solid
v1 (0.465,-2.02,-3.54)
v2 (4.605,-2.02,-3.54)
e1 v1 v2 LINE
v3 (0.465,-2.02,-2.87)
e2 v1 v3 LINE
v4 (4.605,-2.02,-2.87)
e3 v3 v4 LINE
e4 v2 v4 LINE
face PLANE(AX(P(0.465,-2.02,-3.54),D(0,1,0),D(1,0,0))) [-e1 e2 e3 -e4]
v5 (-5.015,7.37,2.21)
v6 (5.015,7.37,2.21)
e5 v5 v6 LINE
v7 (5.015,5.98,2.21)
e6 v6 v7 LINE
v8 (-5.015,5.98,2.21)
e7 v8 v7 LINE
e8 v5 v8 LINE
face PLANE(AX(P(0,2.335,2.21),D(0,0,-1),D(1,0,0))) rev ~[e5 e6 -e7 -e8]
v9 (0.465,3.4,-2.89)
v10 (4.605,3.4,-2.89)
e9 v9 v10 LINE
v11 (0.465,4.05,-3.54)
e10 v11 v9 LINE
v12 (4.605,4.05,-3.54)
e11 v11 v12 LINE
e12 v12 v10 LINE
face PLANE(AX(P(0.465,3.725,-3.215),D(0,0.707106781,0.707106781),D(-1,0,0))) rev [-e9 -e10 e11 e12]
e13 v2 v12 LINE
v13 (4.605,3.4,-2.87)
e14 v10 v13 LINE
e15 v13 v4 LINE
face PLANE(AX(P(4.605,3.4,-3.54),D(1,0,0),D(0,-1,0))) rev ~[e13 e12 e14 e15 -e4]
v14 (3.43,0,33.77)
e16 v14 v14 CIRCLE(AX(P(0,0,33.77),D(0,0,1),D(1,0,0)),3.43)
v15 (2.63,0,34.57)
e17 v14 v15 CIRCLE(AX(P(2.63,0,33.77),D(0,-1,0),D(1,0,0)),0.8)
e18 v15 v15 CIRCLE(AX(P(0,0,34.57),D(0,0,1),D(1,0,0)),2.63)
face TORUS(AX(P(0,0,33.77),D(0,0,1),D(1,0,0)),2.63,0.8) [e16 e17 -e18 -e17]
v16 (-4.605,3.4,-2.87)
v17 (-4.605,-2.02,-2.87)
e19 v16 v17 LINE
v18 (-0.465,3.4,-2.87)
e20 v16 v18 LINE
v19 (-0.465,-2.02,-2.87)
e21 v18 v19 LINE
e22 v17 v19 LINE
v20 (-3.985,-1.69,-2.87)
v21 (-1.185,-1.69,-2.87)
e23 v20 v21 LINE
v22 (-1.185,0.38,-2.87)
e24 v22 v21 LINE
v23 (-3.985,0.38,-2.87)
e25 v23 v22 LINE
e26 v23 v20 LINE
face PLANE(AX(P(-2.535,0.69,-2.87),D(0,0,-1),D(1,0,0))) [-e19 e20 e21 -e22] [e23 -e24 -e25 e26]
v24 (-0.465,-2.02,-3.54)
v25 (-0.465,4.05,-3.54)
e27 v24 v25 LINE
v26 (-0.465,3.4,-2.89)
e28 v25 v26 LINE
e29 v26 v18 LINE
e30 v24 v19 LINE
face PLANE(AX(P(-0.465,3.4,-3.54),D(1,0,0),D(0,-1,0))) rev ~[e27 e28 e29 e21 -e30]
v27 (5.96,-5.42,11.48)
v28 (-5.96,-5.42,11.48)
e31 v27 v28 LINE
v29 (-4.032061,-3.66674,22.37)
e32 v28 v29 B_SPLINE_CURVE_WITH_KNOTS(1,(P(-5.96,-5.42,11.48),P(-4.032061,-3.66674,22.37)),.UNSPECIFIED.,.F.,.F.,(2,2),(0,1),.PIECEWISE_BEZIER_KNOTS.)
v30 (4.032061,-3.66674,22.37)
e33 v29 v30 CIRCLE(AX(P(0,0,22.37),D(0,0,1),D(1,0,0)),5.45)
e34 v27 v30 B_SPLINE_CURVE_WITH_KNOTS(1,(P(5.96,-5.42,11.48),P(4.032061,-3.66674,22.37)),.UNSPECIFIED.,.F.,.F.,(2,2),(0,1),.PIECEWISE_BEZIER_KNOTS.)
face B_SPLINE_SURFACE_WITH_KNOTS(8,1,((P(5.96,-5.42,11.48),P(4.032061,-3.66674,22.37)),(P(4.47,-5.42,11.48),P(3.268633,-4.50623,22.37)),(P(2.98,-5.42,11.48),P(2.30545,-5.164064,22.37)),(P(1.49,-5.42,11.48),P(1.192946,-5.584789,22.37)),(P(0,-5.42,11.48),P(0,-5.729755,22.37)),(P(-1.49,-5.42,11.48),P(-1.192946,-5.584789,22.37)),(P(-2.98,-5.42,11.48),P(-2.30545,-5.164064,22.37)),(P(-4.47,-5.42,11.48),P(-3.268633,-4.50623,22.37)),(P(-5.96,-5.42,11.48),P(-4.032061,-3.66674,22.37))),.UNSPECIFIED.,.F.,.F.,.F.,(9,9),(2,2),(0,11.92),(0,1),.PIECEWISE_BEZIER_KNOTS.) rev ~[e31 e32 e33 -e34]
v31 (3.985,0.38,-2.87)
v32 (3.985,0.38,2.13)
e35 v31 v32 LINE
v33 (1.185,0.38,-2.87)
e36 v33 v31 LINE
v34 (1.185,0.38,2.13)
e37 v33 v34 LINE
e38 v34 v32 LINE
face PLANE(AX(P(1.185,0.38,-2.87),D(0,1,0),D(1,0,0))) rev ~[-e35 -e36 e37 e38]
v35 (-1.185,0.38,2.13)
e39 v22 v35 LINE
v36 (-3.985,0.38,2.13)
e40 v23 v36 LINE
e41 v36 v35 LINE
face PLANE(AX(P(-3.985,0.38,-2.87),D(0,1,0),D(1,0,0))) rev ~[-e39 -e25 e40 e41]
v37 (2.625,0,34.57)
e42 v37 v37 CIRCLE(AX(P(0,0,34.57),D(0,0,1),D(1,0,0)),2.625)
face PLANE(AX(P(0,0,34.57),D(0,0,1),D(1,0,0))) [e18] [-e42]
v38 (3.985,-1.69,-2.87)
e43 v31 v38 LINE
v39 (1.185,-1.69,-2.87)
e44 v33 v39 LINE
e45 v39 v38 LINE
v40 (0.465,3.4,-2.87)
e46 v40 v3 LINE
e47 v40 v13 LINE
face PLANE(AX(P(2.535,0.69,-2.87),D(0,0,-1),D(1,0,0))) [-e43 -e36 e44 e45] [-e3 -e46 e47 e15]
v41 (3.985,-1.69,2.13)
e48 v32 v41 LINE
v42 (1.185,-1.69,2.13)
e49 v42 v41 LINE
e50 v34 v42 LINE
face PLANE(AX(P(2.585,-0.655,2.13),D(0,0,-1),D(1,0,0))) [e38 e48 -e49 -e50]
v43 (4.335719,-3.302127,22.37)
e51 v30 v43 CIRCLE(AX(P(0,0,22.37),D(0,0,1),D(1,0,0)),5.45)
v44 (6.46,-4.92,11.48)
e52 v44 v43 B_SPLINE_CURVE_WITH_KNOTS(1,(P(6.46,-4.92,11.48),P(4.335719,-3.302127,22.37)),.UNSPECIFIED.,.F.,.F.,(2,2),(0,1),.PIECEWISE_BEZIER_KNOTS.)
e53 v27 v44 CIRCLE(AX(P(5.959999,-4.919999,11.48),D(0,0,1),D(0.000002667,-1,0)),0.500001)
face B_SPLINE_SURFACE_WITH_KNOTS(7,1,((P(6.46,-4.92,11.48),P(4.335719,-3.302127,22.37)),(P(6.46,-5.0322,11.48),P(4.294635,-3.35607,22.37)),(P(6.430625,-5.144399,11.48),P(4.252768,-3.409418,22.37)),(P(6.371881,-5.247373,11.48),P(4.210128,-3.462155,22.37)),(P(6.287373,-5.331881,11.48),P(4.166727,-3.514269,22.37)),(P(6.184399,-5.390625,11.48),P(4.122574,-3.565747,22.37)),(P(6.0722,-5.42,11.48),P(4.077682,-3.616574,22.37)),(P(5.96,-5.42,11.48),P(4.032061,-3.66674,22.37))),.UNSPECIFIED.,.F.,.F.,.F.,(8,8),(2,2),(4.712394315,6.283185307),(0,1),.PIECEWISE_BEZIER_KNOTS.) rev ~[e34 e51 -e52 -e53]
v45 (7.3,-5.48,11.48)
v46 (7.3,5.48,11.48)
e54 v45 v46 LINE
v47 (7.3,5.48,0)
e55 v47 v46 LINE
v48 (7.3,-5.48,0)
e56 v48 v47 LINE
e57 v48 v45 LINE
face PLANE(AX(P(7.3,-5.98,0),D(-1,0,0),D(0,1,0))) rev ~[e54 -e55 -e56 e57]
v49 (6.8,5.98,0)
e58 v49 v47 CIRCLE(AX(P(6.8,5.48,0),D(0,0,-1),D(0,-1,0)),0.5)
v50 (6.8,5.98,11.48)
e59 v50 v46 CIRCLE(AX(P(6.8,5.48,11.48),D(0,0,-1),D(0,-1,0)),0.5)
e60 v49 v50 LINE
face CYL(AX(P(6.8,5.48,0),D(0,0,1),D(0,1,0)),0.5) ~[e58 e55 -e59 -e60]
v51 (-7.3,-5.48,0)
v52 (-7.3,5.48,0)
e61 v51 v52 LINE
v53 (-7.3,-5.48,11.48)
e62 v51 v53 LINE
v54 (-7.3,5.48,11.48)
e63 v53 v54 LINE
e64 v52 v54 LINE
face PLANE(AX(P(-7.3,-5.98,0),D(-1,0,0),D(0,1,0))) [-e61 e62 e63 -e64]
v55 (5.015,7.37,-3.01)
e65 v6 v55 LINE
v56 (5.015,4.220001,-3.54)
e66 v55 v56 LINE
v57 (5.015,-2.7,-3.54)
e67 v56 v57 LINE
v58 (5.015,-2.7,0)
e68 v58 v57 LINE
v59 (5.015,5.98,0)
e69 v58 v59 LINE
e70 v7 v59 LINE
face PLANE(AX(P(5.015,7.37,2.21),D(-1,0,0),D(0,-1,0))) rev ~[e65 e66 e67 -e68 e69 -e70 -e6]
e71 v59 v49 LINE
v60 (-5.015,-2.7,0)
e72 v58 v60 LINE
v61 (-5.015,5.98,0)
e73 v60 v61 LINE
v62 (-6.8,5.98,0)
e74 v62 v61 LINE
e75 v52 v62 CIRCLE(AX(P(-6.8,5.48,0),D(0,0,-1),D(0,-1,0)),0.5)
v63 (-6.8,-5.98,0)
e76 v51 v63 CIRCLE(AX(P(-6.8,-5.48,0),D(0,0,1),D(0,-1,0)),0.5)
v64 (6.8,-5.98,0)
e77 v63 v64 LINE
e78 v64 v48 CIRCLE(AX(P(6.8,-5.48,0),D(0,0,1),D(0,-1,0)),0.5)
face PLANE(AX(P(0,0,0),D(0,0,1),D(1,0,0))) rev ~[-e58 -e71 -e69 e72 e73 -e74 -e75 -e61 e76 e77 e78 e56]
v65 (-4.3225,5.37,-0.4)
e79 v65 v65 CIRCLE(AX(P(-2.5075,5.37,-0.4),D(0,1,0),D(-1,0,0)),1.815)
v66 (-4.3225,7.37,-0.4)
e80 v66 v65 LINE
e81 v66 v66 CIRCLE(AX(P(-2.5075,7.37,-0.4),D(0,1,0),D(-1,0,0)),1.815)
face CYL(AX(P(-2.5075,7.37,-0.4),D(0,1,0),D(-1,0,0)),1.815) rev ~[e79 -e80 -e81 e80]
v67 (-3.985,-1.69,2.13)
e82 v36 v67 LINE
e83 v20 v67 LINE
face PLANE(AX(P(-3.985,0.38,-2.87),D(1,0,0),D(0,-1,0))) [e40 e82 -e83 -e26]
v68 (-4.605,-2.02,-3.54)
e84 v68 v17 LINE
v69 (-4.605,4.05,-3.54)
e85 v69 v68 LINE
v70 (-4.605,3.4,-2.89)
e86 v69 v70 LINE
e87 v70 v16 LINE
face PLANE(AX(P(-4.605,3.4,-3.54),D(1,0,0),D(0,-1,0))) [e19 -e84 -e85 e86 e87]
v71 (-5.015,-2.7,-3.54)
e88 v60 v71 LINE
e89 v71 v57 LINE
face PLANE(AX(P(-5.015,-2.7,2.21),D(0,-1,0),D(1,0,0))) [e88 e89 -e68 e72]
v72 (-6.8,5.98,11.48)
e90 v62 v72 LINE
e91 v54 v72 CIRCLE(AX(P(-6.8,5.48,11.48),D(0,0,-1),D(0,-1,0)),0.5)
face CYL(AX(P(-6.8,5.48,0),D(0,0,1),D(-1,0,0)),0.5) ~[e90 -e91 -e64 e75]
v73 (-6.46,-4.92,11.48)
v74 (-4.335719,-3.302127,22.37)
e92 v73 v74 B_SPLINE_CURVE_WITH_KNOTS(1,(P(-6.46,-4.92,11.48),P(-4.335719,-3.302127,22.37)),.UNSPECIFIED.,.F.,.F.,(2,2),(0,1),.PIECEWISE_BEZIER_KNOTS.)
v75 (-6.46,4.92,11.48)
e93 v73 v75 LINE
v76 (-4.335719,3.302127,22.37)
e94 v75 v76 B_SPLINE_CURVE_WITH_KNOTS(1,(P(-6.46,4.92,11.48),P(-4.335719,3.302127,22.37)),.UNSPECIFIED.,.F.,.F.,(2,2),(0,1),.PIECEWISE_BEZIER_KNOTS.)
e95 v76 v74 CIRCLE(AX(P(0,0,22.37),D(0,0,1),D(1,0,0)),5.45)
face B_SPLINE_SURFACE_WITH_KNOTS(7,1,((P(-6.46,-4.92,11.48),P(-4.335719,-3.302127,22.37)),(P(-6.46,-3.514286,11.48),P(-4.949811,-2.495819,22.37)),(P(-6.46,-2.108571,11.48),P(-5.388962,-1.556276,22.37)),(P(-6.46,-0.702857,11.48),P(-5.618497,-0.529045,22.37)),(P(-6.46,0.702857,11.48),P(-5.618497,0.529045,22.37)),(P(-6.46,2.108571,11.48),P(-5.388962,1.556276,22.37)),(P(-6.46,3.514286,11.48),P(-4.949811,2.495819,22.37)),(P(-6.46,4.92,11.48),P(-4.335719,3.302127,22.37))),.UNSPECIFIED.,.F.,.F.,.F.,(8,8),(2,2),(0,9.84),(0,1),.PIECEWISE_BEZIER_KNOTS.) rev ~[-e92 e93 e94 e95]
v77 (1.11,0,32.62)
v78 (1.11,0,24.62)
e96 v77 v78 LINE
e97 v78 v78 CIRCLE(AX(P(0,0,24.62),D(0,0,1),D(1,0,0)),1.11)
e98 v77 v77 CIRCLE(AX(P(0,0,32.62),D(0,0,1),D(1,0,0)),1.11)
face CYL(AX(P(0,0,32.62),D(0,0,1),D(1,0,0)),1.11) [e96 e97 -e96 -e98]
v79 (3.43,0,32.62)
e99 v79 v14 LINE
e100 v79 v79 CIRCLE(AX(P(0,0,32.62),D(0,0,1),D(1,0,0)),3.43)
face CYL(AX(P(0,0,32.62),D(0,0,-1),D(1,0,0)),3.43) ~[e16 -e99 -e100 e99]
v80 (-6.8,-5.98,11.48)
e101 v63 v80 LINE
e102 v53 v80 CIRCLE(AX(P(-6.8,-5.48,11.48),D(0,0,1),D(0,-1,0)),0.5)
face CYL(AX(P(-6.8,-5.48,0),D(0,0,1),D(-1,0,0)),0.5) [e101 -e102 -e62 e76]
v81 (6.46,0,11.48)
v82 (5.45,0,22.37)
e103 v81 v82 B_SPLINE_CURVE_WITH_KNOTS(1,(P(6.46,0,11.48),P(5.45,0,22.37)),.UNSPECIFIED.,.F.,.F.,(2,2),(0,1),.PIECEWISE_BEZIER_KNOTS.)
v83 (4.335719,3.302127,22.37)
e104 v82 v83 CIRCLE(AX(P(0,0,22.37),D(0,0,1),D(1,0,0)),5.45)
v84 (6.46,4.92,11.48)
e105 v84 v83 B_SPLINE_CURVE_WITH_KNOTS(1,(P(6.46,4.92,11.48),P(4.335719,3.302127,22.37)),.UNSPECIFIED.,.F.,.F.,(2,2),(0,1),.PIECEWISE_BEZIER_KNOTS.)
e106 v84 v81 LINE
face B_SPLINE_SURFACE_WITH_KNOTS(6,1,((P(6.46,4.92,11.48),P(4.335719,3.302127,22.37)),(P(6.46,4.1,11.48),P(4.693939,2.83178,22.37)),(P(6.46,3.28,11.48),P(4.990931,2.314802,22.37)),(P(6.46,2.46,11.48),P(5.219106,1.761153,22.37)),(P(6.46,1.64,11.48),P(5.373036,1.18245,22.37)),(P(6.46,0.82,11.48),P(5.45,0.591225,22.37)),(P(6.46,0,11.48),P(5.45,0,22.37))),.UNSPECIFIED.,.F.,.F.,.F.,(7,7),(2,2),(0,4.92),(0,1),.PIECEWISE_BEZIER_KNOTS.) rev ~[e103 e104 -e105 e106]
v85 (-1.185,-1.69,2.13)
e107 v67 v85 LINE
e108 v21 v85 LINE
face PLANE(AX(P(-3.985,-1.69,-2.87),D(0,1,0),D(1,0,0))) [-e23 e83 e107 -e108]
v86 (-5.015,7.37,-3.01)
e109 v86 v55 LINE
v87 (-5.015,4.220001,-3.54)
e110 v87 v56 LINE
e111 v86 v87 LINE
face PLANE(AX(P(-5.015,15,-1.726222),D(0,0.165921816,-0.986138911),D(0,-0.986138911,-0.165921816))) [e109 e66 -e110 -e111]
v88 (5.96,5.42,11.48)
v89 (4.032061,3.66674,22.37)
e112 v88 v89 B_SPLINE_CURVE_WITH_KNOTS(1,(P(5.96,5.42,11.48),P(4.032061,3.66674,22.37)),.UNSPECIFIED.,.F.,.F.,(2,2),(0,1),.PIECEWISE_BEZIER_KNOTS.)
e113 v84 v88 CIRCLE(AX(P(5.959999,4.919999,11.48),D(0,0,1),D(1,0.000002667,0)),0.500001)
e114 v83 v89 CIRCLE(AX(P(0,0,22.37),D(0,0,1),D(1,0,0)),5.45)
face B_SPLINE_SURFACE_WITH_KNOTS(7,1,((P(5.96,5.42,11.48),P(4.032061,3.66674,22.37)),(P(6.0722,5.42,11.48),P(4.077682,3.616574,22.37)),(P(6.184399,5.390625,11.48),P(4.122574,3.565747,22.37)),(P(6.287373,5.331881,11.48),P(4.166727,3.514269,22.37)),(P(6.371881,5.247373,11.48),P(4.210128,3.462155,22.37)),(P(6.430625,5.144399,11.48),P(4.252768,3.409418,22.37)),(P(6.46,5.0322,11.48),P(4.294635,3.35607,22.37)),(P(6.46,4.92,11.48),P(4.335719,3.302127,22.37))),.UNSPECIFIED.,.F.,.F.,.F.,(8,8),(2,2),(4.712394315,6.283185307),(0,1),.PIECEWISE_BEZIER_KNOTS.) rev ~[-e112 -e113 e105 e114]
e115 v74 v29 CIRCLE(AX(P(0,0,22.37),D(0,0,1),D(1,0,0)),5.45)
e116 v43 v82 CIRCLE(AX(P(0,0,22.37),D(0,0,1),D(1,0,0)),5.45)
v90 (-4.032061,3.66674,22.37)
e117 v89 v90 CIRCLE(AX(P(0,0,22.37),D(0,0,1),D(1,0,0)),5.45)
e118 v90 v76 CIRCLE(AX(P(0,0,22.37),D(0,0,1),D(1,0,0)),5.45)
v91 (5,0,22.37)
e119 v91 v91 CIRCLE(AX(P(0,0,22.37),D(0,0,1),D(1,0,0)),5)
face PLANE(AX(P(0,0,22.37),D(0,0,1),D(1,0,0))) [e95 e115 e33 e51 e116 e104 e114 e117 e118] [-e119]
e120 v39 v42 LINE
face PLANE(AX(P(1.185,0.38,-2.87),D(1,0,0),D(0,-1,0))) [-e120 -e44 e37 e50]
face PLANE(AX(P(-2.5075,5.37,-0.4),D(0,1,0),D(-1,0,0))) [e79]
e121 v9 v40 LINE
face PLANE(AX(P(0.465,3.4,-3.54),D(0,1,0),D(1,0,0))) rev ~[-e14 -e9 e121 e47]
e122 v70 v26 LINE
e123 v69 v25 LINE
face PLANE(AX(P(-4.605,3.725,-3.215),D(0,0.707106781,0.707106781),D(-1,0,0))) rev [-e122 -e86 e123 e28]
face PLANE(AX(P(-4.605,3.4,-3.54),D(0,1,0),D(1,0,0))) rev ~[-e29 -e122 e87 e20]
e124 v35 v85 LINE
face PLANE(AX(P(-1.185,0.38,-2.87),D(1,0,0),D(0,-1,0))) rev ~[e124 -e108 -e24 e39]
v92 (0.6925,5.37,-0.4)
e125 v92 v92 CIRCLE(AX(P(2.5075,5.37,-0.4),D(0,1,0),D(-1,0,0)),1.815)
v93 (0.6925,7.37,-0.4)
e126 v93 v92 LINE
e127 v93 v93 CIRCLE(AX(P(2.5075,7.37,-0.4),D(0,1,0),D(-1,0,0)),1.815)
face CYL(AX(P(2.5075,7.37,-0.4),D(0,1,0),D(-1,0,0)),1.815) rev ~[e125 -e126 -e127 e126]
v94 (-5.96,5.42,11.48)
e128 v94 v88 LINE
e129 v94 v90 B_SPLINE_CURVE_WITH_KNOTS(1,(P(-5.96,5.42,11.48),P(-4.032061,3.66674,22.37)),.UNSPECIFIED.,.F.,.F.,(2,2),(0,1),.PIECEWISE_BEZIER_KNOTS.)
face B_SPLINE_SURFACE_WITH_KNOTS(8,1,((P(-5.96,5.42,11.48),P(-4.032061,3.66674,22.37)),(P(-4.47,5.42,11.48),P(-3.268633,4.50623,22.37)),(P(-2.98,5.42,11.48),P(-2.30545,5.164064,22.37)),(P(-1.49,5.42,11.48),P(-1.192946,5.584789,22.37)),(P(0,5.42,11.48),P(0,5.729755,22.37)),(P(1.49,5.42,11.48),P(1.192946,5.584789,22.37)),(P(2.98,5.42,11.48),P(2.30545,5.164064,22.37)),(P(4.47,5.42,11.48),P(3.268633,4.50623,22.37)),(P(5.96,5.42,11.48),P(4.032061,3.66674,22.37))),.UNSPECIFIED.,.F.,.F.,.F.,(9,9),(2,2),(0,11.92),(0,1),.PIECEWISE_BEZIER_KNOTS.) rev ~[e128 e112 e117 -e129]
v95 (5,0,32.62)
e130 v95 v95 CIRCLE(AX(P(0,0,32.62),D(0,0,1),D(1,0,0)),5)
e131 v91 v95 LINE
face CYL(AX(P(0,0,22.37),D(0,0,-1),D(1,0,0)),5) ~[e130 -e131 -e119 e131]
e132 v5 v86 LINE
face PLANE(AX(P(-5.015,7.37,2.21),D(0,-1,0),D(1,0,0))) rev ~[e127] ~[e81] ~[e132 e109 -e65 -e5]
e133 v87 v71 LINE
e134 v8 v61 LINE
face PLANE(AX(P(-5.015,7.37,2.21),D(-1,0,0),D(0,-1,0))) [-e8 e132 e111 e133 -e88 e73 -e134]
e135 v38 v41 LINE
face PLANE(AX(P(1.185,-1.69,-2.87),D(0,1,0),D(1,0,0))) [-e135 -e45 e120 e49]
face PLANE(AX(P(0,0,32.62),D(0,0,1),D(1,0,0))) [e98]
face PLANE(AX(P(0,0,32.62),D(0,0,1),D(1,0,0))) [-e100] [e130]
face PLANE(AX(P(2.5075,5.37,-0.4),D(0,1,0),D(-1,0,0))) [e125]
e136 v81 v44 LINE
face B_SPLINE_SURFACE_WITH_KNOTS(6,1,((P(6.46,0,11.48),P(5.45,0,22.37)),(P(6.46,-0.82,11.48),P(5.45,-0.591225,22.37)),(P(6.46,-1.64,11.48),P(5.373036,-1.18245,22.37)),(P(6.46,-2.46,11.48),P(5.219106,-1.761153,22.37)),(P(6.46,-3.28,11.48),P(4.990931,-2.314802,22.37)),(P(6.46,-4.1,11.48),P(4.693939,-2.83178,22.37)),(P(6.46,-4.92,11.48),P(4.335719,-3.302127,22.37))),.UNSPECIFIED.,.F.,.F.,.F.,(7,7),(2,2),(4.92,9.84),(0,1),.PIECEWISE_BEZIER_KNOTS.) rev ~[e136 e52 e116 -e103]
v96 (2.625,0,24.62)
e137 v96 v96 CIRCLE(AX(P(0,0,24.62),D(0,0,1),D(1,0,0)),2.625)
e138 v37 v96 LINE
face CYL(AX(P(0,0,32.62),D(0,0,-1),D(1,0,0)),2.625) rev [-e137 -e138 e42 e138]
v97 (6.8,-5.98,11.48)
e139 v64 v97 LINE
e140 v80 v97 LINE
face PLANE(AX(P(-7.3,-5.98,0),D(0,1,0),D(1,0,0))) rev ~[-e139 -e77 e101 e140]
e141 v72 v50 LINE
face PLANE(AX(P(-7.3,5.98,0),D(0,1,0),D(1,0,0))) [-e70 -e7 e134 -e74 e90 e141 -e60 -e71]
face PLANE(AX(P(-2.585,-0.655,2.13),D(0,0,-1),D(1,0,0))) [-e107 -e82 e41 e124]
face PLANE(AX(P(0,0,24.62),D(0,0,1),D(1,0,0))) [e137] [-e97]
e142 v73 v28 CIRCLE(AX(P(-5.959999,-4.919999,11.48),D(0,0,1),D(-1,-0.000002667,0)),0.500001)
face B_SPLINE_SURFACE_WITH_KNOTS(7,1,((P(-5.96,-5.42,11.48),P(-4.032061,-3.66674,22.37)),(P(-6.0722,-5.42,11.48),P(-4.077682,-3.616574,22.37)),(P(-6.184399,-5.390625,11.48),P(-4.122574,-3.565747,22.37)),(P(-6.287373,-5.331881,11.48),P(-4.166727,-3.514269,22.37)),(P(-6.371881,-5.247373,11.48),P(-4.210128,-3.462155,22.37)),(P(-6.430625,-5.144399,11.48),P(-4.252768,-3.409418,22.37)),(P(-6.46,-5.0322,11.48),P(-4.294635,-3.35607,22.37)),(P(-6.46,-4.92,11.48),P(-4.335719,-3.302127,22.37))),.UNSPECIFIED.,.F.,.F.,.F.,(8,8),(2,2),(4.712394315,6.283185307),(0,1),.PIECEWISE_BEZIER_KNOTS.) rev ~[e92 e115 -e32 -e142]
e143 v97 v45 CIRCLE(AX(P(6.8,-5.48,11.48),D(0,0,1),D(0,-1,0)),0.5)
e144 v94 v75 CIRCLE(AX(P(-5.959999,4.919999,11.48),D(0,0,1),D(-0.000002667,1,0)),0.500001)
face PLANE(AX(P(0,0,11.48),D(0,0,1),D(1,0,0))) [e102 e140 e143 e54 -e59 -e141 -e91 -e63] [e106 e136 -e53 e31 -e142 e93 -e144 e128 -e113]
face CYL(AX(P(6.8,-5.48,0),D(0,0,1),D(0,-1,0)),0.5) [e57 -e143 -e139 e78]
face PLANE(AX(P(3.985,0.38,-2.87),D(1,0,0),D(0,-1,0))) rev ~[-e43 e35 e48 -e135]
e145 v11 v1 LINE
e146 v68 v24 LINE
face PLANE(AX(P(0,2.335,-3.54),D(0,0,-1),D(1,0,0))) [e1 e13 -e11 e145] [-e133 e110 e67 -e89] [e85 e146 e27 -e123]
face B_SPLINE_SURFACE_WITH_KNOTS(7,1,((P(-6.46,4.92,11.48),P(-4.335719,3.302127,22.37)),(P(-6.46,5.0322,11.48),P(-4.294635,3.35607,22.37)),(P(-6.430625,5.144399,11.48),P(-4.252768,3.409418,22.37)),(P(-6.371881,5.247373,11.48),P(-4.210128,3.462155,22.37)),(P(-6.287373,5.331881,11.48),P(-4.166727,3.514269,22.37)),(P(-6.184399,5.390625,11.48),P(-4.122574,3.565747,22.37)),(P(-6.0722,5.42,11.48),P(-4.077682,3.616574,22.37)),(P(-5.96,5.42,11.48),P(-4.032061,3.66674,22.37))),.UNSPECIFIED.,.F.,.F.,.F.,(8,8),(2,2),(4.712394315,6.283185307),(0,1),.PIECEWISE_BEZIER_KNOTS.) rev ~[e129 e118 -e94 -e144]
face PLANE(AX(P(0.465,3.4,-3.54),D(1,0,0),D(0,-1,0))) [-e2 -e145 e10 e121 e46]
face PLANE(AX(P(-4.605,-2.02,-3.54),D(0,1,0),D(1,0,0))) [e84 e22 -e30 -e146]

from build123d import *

# Parameters (mm, degrees)
SKETCH002_R     = 5.45
SKETCH003_R     = 5
PAD001_DEPTH    = 10.25
SKETCH004_R     = 2.625
SKETCH004_R_2   = 1.11
POCKET_DEPTH    = 8
SKETCH005_R     = 3.43
SKETCH005_R_2   = 2.625
PAD002_DEPTH    = 1.95
FILLET_R        = 0.8
SKETCH_W        = 14.6
SKETCH_H        = 11.96
PAD_DEPTH       = 11.48
SKETCH006_W     = 10.03
SKETCH006_H     = 10.07
PAD003_DEPTH    = 5.75
POCKET001_DEPTH = 10.031
FILLET001_R     = 0.5
SKETCH008_R     = 1.815
POCKET002_DEPTH = 2
SKETCH009_W     = 4.14
SKETCH009_H     = 5.42
POCKET003_DEPTH = 0.67
CHAMFER_SIZE    = 0.65
SKETCH010_W     = 2.8
SKETCH010_H     = 2.07
POCKET004_DEPTH = 5


with BuildPart() as fillet_body:
    # Sketch001 → Loft section 0
    with BuildSketch(Plane.XY.offset(11.48)):
        with BuildLine():
            Line((-5.96, 5.42), (5.96, 5.42))
            ThreePointArc((6.46, 4.92), (6.313553, 5.273553), (5.96, 5.42))
            Line((6.46, 4.92), (6.46, -4.92))
            ThreePointArc((5.96, -5.42), (6.313553, -5.273553), (6.46, -4.92))
            Line((5.96, -5.42), (-5.96, -5.42))
            ThreePointArc((-6.46, -4.92), (-6.313553, -5.273553), (-5.96, -5.42))
            Line((-6.46, -4.92), (-6.46, 4.92))
            ThreePointArc((-5.96, 5.42), (-6.313553, 5.273553), (-6.46, 4.92))
        make_face()
    # Sketch002 → Loft section 1
    with BuildSketch(Plane.XY.offset(22.37)):
        Circle(SKETCH002_R)
    loft(ruled=True)

    # Sketch003 → Pad001 (new body)
    with BuildSketch(Plane.XY.offset(22.37)):
        Circle(SKETCH003_R)
    extrude(amount=PAD001_DEPTH)

    # Sketch004 → Pocket (cut)
    with BuildSketch(Plane.XY.offset(32.62)):
        Circle(SKETCH004_R)
        Circle(SKETCH004_R_2, mode=Mode.SUBTRACT)
    extrude(amount=-POCKET_DEPTH, mode=Mode.SUBTRACT)

    # Sketch005 → Pad002 (new body)
    with BuildSketch(Plane.XY.offset(32.62)):
        Circle(SKETCH005_R)
        Circle(SKETCH005_R_2, mode=Mode.SUBTRACT)
    extrude(amount=PAD002_DEPTH)

    # Fillet
    fillet_edges = [fillet_body.edges().sort_by_distance(p)[0] for p in [
        (-3.43, 0, 34.57),
    ]]
    fillet(fillet_edges, radius=FILLET_R)


with BuildPart() as fusion:
    # Sketch → Pad (new body)
    with BuildSketch(Plane.XY):
        Rectangle(SKETCH_W, SKETCH_H)
    extrude(amount=PAD_DEPTH)

    # Fusion: union Fillet body
    add(fillet_body.part)


with BuildPart() as alimfemelle:
    # Sketch006 → Pad003 (new body)
    with BuildSketch(Plane(origin=(0, 0, 2.21), x_dir=(1, 0, 0), z_dir=(0, 0, -1))):
        with Locations((0, -2.335)):
            Rectangle(SKETCH006_W, SKETCH006_H)
    extrude(amount=PAD003_DEPTH)

    # Sketch007 → Pocket001 (cut, through all)
    with BuildSketch(Plane(origin=(-5.015, 0, 2.21), x_dir=(0, 1, 0), z_dir=(-1, 0, 0))):
        Polygon((15, 3.936222), (0, 6.460032), (0, 8.936222), (15, 8.936222), align=None)
    extrude(amount=-POCKET001_DEPTH, mode=Mode.SUBTRACT)

    # Fusion001: union Fusion
    add(fusion.part)

    # Fillet001
    fillet001_edges = [alimfemelle.edges().sort_by_distance(p)[0] for p in [
        (7.3, 5.98, 5.74),
        (-7.3, 5.98, 5.74),
        (7.3, -5.98, 5.74),
        (-7.3, -5.98, 5.74),
    ]]
    fillet(fillet001_edges, radius=FILLET001_R)

    # Sketch008 → Pocket002 (cut)
    with BuildSketch(Plane(origin=(0, 7.37, 0), x_dir=(-1, 0, 0), z_dir=(0, 1, 0))):
        with Locations((-2.5075, -0.4)):
            Circle(SKETCH008_R)
        with Locations((2.5075, -0.4)):
            Circle(SKETCH008_R)
    extrude(amount=-POCKET002_DEPTH, mode=Mode.SUBTRACT)

    # Sketch009 → Pocket003 (cut)
    with BuildSketch(Plane(origin=(0, 0, -3.54), x_dir=(1, 0, 0), z_dir=(0, 0, -1))):
        with Locations((-2.535, -0.69)):
            Rectangle(SKETCH009_W, SKETCH009_H)
        with Locations((2.535, -0.69)):
            Rectangle(SKETCH009_W, SKETCH009_H)
    extrude(amount=-POCKET003_DEPTH, mode=Mode.SUBTRACT)

    # Chamfer
    chamfer_edges = [alimfemelle.edges().sort_by_distance(p)[0] for p in [
        (2.535, 3.4, -3.54),
        (-2.535, 3.4, -3.54),
    ]]
    chamfer(chamfer_edges, length=CHAMFER_SIZE)

    # Sketch010 → Pocket004 (cut)
    with BuildSketch(Plane(origin=(0, 0, -2.87), x_dir=(1, 0, 0), z_dir=(0, 0, -1))):
        with Locations((-2.585, 0.655)):
            Rectangle(SKETCH010_W, SKETCH010_H)
        with Locations((2.585, 0.655)):
            Rectangle(SKETCH010_W, SKETCH010_H)
    extrude(amount=-POCKET004_DEPTH, mode=Mode.SUBTRACT)


solid = alimfemelle.part
